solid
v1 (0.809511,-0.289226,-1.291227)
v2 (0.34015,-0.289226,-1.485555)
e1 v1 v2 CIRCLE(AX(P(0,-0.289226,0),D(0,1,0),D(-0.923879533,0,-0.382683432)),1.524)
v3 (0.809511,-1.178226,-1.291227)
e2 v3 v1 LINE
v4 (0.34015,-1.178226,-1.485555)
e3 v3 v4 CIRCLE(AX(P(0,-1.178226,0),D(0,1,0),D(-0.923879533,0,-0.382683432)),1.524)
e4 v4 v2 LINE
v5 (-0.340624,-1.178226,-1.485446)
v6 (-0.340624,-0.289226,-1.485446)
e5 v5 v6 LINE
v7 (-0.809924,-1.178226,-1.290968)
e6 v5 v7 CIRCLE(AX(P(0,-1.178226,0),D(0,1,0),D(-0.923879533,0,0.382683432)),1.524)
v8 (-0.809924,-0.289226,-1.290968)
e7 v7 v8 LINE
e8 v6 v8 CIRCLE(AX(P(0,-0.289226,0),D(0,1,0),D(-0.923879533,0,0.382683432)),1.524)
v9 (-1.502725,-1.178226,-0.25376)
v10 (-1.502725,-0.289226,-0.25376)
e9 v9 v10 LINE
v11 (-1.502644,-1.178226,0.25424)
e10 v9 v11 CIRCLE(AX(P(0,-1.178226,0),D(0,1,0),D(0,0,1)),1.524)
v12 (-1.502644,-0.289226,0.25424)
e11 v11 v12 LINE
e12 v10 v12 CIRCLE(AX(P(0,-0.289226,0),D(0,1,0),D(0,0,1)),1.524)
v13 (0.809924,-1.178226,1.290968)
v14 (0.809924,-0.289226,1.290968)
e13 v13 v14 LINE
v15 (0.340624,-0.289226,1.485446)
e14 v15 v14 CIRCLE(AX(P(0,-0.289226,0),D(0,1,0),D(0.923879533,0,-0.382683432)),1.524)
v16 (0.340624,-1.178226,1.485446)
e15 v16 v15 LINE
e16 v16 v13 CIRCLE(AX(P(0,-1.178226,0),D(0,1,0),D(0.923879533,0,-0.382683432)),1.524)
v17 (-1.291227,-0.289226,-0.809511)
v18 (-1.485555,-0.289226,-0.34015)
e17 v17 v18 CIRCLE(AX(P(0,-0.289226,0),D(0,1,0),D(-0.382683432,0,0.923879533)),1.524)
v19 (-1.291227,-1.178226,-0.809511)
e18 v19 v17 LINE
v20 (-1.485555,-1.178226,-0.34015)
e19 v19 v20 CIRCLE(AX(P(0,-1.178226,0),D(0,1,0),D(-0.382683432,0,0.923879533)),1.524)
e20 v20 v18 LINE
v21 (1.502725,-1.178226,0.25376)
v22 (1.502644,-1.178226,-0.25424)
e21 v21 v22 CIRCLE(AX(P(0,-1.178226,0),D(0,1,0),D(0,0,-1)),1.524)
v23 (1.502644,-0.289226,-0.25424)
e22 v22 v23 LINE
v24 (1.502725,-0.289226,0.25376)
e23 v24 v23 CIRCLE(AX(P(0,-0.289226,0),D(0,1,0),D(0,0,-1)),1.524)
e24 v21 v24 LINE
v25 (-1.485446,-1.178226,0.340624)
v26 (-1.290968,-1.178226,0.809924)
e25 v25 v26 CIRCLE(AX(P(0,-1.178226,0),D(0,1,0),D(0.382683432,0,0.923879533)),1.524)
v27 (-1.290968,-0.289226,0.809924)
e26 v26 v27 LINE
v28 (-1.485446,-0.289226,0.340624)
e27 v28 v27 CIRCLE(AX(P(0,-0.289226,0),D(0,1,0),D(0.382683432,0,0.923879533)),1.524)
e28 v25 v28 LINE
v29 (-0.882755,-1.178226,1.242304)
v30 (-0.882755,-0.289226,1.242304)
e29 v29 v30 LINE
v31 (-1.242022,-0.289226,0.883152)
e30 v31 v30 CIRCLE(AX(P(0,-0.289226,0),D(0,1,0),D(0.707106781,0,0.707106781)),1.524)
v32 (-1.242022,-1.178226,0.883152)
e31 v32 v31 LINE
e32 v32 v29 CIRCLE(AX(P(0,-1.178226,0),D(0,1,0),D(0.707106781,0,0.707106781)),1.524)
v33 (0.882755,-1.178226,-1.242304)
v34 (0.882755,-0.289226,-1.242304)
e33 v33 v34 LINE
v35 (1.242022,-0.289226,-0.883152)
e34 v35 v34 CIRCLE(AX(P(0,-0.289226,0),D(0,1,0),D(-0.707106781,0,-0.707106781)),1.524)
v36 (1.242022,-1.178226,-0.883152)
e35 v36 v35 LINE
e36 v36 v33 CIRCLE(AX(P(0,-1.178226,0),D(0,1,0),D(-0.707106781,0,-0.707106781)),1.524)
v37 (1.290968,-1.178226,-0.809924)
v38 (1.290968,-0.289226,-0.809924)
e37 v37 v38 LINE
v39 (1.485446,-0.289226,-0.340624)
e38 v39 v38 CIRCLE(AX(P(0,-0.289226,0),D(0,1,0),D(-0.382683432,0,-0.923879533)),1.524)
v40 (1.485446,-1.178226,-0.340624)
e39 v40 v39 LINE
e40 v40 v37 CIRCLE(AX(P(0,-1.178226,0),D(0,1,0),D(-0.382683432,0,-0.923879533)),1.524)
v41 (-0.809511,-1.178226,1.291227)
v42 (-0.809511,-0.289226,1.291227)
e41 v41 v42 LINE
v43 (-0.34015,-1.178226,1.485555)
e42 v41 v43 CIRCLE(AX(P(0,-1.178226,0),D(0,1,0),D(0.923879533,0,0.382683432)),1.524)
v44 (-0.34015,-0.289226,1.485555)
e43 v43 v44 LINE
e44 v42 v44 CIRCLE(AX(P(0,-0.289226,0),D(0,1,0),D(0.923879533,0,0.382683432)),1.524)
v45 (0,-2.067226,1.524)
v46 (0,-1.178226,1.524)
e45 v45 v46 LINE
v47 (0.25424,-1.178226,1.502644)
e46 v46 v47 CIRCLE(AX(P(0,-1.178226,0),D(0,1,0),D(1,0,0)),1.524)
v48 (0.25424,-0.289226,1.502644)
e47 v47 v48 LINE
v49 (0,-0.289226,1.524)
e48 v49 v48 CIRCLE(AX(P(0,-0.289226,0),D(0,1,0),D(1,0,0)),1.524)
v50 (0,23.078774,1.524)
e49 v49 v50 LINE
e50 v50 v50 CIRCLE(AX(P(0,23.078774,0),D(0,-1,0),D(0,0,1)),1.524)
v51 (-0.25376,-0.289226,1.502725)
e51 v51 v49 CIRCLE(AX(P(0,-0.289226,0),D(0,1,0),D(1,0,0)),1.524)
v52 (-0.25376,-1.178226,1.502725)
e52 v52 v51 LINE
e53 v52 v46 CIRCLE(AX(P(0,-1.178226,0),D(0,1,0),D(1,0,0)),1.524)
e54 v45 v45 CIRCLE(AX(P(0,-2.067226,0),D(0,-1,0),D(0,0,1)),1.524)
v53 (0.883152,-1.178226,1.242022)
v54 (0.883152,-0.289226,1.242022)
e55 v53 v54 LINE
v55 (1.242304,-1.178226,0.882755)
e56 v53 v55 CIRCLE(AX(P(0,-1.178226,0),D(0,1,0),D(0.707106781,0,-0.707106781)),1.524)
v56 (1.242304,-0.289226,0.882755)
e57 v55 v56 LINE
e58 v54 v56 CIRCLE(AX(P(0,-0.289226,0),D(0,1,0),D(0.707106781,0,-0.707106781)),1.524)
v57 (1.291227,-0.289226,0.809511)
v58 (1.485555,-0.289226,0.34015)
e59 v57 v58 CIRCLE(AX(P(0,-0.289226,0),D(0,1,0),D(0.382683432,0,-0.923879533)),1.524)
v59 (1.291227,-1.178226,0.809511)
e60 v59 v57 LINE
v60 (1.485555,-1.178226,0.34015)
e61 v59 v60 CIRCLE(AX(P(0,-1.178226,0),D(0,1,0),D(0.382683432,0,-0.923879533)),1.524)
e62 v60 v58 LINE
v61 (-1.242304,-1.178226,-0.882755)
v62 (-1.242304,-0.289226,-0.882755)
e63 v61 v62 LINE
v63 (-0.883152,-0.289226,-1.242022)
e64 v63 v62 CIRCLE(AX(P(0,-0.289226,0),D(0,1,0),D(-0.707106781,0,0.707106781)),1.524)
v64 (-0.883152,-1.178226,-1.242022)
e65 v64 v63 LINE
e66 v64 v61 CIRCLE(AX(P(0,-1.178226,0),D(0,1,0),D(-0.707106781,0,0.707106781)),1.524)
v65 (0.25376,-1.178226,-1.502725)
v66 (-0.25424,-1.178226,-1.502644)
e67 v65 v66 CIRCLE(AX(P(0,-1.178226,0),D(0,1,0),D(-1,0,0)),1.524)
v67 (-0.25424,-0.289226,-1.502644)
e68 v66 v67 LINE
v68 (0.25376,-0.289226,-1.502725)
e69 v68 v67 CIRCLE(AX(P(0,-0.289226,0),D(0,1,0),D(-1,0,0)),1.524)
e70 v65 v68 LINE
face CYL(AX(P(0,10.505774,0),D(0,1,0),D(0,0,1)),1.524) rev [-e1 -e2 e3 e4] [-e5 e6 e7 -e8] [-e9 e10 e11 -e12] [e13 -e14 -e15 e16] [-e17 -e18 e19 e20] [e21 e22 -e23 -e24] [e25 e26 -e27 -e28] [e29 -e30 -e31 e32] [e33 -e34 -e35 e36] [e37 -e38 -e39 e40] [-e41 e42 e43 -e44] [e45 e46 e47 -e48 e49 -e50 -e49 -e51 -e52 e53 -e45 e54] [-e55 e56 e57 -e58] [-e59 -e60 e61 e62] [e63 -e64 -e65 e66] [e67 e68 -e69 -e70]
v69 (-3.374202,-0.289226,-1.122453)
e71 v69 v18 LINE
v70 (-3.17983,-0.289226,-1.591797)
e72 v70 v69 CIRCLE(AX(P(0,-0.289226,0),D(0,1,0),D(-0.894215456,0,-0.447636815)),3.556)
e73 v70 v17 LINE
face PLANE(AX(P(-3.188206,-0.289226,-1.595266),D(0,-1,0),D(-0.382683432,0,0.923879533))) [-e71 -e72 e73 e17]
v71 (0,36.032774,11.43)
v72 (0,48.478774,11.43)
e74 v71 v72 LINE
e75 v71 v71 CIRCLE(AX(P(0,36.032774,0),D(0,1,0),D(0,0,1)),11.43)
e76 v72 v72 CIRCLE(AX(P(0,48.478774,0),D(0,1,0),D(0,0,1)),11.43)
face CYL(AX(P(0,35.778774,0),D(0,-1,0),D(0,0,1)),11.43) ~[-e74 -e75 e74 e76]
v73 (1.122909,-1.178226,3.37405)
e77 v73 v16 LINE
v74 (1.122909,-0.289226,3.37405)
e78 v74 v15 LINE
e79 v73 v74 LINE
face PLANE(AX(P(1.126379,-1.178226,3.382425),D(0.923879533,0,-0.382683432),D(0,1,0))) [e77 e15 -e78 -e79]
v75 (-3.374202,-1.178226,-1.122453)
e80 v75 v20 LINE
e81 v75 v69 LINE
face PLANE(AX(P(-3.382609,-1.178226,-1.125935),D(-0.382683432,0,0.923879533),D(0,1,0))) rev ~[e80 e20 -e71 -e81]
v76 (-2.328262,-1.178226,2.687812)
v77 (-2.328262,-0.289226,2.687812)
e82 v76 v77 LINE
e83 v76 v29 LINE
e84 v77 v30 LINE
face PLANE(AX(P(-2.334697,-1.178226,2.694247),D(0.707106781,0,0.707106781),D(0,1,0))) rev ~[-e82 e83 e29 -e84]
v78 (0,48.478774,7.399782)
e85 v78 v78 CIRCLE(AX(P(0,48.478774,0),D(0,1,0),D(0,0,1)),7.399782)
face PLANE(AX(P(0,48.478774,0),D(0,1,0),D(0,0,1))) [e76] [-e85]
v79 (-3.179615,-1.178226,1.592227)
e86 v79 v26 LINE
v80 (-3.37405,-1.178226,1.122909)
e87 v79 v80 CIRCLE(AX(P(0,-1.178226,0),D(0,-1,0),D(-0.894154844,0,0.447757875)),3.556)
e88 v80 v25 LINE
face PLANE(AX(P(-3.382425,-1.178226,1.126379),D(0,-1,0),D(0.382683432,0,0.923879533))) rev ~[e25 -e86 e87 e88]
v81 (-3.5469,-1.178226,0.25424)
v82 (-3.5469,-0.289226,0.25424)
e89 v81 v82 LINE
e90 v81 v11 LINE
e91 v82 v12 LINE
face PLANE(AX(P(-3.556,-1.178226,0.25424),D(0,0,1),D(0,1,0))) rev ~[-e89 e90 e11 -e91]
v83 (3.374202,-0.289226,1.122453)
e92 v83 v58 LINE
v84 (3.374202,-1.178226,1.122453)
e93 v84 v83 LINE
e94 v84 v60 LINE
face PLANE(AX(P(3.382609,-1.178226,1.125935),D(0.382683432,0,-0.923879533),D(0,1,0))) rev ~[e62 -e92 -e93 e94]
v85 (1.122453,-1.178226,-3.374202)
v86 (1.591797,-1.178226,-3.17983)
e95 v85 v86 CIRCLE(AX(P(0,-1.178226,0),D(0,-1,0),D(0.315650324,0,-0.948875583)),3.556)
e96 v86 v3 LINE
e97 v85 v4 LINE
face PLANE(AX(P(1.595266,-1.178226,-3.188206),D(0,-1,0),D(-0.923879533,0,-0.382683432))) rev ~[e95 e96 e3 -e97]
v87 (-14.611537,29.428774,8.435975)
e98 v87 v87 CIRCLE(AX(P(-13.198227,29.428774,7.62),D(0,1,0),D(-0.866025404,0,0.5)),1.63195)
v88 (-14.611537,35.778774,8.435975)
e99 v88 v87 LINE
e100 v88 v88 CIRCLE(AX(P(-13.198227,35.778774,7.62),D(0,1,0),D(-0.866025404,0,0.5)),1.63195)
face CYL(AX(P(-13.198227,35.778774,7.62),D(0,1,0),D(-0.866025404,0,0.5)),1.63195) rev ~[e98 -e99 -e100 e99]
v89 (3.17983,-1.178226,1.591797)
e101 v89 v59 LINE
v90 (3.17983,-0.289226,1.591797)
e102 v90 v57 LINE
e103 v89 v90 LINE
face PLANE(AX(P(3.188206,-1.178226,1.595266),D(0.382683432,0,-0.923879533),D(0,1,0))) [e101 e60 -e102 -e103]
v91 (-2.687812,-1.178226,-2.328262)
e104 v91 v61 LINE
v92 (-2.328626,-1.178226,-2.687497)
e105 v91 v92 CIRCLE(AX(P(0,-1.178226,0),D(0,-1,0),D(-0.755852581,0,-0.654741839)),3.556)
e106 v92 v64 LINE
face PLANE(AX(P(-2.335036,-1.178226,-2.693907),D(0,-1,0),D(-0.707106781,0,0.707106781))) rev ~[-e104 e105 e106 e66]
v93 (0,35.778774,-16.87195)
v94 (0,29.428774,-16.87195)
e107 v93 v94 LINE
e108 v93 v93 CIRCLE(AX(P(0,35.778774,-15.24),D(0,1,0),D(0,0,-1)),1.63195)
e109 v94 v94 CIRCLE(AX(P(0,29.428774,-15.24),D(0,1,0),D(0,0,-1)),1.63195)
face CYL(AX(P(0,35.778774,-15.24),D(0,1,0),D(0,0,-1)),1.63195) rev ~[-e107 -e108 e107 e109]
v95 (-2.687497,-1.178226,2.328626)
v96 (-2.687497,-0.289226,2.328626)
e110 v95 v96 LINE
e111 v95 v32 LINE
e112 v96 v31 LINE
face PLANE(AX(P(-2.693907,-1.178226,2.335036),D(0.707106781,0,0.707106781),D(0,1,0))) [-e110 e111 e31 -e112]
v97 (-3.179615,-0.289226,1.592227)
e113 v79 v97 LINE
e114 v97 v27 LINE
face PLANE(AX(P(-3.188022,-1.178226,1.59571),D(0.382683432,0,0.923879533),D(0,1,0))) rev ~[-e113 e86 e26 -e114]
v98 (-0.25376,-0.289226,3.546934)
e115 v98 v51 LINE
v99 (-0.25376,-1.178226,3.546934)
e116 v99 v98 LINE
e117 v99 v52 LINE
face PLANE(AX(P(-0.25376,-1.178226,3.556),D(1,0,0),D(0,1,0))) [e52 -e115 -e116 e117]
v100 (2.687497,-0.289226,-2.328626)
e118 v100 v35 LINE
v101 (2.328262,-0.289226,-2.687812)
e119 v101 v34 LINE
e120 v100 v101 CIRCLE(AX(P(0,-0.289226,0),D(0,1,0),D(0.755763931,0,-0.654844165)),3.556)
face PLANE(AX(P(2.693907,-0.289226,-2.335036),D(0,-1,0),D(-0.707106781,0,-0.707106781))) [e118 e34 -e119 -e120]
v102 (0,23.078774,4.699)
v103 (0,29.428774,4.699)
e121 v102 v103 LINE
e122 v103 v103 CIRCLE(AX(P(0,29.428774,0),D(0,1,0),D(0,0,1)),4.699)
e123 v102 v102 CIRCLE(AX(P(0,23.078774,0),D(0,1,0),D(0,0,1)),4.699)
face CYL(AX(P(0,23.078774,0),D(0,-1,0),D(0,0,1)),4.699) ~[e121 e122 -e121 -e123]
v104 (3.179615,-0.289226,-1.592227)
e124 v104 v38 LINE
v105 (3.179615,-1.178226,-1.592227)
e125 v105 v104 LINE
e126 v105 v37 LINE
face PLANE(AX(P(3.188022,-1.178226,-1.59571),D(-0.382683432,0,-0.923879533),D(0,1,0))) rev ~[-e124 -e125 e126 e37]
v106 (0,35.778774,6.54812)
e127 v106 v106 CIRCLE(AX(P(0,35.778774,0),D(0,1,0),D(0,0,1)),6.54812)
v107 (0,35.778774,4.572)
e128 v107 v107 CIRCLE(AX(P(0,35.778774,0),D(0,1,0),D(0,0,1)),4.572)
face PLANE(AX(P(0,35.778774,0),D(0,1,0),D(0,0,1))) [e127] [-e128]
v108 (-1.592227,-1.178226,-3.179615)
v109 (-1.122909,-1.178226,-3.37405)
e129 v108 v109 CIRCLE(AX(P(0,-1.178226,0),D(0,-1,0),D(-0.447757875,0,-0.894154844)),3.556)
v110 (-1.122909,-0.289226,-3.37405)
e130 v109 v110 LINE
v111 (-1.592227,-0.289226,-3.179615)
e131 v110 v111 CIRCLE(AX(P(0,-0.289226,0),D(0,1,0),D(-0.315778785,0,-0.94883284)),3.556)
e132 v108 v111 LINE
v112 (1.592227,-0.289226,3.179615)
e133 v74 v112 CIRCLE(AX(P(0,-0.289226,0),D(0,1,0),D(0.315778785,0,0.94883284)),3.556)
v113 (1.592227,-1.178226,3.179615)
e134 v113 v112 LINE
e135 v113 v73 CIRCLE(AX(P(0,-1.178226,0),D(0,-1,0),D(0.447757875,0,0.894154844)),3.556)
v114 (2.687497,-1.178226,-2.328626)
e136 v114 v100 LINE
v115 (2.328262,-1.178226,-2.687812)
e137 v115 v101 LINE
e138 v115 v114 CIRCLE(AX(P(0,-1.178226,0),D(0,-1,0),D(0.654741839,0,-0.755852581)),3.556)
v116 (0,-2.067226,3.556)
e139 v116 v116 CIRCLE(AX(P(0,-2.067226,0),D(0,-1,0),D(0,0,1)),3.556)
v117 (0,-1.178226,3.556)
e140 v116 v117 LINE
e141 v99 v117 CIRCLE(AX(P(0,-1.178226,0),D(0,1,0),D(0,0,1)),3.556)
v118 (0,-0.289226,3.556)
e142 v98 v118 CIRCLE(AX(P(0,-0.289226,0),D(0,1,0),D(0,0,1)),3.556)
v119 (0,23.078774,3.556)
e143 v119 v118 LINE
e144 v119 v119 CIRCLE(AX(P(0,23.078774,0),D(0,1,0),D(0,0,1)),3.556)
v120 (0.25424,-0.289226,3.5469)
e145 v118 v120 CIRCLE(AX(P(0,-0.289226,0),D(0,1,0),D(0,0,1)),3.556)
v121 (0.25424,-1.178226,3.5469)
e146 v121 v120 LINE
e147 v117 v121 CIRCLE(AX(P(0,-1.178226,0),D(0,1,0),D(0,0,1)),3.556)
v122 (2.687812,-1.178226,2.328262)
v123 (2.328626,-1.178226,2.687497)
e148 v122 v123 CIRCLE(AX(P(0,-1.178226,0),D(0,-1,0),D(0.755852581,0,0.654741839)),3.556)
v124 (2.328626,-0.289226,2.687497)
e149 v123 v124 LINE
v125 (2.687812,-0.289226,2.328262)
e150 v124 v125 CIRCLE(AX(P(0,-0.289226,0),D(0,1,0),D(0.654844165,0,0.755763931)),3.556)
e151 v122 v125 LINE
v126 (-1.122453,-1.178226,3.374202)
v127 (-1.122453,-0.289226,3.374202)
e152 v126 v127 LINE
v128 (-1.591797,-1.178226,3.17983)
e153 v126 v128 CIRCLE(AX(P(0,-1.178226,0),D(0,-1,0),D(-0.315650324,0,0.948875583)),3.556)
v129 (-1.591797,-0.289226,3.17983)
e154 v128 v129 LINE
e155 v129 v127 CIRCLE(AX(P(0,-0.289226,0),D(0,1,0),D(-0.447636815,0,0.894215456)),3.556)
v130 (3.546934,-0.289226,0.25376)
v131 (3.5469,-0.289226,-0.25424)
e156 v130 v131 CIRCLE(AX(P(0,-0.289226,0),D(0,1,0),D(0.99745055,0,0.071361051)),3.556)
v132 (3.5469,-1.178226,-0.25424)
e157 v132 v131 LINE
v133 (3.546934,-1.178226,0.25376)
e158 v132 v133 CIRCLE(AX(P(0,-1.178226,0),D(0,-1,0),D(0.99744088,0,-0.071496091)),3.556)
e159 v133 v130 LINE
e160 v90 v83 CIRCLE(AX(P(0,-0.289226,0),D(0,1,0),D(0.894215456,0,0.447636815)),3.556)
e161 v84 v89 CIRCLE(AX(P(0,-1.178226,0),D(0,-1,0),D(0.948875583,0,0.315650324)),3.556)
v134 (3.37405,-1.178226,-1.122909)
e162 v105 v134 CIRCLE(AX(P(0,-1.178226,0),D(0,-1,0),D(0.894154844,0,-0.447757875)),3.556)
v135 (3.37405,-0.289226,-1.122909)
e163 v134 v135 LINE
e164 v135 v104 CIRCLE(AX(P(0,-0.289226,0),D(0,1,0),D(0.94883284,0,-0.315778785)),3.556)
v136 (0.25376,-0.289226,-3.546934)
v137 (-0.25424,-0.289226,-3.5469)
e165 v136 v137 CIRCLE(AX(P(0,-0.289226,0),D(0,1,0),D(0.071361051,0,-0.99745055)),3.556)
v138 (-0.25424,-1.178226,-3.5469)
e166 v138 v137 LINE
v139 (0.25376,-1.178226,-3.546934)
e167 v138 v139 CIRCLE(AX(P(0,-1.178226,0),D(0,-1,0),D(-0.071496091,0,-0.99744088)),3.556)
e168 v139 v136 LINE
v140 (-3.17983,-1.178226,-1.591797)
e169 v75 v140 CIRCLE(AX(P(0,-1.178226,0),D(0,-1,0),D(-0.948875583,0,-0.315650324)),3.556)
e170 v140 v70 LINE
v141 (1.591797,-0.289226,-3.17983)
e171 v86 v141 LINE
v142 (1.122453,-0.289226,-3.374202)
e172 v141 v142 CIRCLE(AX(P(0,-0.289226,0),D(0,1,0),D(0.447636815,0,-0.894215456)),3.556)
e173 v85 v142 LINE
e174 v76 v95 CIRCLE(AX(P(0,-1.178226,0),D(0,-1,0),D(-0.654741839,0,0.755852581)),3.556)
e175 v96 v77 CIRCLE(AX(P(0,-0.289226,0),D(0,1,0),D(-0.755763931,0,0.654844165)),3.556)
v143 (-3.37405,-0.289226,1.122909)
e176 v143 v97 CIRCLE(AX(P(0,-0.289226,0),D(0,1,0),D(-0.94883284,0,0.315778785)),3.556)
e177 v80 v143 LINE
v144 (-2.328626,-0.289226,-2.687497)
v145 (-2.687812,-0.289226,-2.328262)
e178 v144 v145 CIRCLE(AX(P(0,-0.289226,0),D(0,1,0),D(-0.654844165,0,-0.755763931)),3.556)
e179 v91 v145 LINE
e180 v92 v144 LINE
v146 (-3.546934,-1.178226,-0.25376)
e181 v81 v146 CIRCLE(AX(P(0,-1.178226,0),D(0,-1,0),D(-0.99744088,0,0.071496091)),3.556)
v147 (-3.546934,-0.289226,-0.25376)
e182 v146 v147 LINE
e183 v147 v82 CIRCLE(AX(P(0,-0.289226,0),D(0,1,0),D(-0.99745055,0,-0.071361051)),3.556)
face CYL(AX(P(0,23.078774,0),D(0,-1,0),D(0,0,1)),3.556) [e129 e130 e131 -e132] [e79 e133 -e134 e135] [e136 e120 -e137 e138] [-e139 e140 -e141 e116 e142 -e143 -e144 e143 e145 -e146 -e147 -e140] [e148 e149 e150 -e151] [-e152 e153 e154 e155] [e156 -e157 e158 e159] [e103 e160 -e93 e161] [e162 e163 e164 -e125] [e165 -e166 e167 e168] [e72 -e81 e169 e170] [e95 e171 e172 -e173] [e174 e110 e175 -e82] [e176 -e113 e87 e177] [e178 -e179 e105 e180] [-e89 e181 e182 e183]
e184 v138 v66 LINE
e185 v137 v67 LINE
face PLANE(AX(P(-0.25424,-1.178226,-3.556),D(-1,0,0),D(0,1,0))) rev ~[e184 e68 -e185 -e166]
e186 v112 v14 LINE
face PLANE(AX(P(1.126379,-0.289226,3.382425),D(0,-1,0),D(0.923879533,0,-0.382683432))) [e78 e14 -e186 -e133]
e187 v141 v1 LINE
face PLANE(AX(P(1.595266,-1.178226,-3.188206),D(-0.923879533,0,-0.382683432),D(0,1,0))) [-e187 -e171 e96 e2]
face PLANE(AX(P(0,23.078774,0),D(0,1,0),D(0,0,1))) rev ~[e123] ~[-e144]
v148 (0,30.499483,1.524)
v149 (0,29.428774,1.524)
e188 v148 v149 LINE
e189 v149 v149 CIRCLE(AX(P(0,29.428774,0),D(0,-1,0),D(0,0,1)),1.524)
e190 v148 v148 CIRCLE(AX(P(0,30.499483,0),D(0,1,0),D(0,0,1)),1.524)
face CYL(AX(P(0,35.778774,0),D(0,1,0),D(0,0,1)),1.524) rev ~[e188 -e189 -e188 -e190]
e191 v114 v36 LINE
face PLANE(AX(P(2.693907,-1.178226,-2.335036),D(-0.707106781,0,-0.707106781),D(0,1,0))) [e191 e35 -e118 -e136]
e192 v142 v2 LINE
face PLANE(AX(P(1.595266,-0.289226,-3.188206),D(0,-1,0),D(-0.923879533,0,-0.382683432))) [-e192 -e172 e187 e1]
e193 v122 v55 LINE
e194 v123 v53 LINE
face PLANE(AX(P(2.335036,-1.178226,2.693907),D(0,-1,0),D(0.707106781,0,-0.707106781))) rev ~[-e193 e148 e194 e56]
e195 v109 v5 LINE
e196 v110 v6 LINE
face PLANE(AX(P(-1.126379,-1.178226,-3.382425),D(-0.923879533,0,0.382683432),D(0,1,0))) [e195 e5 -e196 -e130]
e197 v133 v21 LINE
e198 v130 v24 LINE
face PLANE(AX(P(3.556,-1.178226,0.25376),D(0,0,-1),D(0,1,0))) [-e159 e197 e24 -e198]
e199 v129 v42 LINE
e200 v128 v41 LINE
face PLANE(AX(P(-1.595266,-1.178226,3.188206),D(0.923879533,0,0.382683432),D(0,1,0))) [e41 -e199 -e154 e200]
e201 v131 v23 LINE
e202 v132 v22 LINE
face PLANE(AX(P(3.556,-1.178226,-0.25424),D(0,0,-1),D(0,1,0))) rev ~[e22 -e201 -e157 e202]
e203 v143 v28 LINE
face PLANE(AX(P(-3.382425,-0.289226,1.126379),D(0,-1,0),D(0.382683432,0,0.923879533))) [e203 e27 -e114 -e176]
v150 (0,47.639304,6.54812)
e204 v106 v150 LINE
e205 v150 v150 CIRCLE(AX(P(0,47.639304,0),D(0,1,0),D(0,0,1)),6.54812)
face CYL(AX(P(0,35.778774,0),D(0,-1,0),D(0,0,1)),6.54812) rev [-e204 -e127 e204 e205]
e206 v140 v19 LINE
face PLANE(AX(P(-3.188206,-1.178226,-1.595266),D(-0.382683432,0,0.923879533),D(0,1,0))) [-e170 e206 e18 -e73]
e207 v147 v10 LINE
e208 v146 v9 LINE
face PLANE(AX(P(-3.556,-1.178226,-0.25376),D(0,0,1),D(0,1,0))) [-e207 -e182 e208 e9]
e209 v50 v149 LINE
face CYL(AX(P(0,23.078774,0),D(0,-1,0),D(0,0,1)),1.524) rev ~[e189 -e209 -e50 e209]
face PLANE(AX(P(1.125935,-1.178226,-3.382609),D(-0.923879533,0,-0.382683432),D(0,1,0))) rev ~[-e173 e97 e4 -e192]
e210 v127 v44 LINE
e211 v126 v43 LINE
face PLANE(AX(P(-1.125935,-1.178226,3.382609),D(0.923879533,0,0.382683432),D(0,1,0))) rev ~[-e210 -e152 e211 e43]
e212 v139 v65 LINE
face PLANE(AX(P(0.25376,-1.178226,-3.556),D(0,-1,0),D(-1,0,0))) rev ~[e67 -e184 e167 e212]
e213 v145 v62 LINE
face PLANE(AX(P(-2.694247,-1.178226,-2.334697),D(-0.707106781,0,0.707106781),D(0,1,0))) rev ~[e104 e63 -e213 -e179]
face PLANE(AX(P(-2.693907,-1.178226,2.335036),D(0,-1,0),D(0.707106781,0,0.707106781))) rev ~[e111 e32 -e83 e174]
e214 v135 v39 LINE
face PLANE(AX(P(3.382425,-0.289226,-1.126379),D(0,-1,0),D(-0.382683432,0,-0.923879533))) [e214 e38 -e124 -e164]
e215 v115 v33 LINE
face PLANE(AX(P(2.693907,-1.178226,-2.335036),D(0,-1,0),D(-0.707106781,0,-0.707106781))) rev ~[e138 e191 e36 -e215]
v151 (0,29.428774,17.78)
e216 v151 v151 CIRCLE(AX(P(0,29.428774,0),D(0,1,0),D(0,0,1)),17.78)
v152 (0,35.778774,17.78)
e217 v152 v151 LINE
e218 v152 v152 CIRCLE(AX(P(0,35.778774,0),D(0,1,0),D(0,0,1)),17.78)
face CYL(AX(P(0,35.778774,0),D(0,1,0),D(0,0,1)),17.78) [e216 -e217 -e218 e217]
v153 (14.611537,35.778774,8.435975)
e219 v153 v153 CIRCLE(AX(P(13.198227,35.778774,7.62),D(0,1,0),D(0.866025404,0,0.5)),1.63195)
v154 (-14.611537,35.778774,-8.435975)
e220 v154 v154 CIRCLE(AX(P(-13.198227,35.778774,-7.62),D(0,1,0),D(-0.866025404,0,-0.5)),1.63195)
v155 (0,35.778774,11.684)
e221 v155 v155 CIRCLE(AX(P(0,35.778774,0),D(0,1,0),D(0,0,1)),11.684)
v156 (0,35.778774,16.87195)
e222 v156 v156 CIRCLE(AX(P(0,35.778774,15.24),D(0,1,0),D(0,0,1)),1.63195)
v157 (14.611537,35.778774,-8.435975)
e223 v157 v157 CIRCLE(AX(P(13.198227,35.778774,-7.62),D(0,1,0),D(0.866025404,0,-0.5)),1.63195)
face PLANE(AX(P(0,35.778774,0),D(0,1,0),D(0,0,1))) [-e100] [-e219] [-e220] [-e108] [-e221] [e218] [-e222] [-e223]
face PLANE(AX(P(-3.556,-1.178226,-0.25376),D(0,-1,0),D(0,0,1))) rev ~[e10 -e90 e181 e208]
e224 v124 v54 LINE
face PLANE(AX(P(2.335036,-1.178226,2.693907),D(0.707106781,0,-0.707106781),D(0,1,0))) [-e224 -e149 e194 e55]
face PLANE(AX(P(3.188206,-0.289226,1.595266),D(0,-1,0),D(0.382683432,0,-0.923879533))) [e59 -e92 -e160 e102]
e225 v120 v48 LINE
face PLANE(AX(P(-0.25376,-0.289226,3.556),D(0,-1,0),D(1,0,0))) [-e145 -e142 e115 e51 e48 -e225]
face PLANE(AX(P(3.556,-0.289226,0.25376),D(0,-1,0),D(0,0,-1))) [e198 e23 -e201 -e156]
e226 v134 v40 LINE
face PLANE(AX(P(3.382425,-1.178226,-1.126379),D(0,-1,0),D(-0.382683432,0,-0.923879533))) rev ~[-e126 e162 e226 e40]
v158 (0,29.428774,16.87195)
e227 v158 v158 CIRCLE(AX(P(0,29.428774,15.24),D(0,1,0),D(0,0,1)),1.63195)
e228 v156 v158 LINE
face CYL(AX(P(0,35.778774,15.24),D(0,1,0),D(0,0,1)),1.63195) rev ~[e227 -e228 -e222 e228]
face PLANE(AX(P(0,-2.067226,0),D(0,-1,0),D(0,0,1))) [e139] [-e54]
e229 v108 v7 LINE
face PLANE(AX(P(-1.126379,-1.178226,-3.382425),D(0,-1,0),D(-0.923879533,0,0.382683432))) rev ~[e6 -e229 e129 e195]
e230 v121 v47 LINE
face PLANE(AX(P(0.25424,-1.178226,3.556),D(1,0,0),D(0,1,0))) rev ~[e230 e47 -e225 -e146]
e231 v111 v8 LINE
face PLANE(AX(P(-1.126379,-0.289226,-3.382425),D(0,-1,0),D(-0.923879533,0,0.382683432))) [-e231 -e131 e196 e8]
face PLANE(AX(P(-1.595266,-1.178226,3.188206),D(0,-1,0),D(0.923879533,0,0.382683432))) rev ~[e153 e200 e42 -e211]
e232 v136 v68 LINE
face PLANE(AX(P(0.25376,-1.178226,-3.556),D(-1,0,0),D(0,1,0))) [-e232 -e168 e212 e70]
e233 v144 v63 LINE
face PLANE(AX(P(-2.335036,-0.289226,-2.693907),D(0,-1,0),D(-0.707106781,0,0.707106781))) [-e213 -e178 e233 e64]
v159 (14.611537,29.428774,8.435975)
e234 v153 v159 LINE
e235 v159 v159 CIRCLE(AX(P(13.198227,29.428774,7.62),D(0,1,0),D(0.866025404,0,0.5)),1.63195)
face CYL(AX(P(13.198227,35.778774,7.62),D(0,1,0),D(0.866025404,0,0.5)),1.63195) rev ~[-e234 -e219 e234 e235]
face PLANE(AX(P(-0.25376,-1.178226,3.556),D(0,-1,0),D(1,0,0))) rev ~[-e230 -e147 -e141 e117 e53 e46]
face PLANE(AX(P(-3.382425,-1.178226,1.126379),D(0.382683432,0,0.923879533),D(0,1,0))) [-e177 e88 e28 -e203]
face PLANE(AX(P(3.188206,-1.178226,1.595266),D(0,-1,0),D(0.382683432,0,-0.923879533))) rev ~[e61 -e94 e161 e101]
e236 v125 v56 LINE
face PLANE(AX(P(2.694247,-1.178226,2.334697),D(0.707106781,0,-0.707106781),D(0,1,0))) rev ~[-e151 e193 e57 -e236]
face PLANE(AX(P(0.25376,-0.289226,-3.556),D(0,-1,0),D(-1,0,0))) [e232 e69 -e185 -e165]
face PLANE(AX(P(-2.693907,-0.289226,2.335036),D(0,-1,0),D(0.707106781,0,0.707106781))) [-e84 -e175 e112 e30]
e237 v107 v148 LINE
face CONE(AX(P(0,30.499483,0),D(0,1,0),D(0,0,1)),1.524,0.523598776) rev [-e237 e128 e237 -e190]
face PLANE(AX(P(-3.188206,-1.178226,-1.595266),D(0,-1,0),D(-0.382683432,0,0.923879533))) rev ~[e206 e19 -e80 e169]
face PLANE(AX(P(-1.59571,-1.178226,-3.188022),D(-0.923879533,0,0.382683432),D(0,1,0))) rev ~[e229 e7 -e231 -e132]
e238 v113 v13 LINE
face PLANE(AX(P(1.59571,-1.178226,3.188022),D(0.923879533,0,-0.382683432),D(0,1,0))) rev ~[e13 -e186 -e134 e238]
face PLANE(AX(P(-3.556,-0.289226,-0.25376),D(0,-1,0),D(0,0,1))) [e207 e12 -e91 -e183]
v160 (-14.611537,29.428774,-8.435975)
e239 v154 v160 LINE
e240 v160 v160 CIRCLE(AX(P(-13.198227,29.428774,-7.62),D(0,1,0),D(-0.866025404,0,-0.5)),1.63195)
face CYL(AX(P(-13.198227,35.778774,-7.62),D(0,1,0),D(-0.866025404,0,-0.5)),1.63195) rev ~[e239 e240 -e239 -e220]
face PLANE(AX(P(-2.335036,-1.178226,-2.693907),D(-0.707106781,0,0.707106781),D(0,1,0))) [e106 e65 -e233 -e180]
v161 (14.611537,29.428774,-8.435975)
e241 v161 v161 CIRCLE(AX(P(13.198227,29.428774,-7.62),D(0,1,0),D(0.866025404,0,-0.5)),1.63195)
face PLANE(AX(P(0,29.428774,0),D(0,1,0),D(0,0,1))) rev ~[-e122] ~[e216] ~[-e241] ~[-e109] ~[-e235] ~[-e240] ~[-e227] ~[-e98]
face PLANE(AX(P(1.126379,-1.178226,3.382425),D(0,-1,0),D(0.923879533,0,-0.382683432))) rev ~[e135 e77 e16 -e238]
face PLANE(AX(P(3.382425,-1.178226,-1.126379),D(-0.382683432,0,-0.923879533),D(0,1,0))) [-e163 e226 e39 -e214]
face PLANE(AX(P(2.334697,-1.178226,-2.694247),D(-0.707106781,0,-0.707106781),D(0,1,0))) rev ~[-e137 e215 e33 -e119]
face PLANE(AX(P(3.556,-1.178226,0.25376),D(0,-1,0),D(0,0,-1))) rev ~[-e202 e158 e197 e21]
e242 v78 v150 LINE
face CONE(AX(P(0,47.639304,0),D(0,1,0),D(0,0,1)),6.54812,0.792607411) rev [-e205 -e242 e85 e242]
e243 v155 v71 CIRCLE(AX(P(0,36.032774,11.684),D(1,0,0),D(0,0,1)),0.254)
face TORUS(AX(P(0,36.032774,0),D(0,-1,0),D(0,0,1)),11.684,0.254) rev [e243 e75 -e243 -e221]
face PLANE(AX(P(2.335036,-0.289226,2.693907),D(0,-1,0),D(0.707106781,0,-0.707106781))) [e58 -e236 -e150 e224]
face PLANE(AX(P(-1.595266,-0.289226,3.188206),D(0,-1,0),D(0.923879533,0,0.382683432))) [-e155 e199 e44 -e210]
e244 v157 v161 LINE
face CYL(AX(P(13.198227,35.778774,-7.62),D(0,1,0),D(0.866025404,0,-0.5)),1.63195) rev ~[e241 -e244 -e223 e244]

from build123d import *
from build123d.topology import SkipClean

# Parameters (mm, degrees)
SKETCH1_W               = 2.032
SKETCH1_H               = 25.146
CUT_EXTRUDE1_REACH      = 26.41
CUT_EXTRUDE1_END_RADIUS = 1.524
SKETCH2_W               = 0.508
SKETCH2_H               = 0.889
CIRPATTERN1_COUNT       = 16
SKETCH3_R               = 3.556
SKETCH3_R_2             = 1.524
BOSS_EXTRUDE1_DEPTH     = 6.35
BOSS_EXTRUDE2_START     = 6.35
SKETCH4_R               = 17.78
SKETCH4_R_2             = 1.524
BOSS_EXTRUDE2_DEPTH     = 6.35
CUT_EXTRUDE2_REACH      = 47.438
SKETCH11_R              = 1.63195
CIRPATTERN2_COUNT       = 6
CHAMFER1_SIZE           = 3.048
CHAMFER1_SIZE2          = 5.279290861
SKETCH13_R              = 11.43
SKETCH13_R_2            = 6.54812
BOSS_EXTRUDE4_DEPTH     = 12.7
FILLET4_R               = 0.254
CHAMFER2_SIZE           = 0.851662
CHAMFER2_SIZE2          = 0.83947
BOSS_EXTRUDE5_START     = -6.35
SKETCH15_R              = 4.699
SKETCH15_R_2            = 3.556
BOSS_EXTRUDE5_DEPTH     = 6.35


with BuildPart() as part:
    # Sketch1 → Revolve2 (revolve)
    with BuildSketch(Plane.XY):
        with Locations((-2.54, 10.505774136)):
            Rectangle(SKETCH1_W, SKETCH1_H)
    revolve(axis=Axis((0, 8.215698649, 0), (0, -1, 0)))

    # Cut-Extrude1: up to this cylinder (the profile starts outside it)
    cut_extrude1_end = Plane(origin=(0, -0.733726, 0), z_dir=(0, 1, 0)) * Cylinder(CUT_EXTRUDE1_END_RADIUS, 56.868, mode=Mode.PRIVATE)
    # Sketch2 → Cut-Extrude1 (cut, up to the surface)
    with BuildSketch(Plane.ZY.offset(3.556), mode=Mode.PRIVATE) as cut_extrude1_sk1:
        with Locations((0.000240101, -0.733725864)):
            Rectangle(SKETCH2_W, SKETCH2_H)
    cut_extrude1_tool1 = extrude(cut_extrude1_sk1.sketch, amount=-CUT_EXTRUDE1_REACH, mode=Mode.PRIVATE) - cut_extrude1_end
    cut_extrude1 = cut_extrude1_tool1.solids().sort_by_distance((-3.556, -0.733726, 0.00024))[0]
    add(cut_extrude1, mode=Mode.SUBTRACT)

    # CirPattern1: Cut-Extrude1 ×16 about axis
    cirpattern1_axis = Axis((0, -2.067225864, 0), (0, 1, 0))
    for i in range(1, CIRPATTERN1_COUNT):
        add(cut_extrude1.rotate(cirpattern1_axis, i * 360 / CIRPATTERN1_COUNT), mode=Mode.SUBTRACT)

    # Sketch3 → Boss-Extrude1 (add)
    with BuildSketch(Plane(origin=(0, 23.078774136, 0), x_dir=(-1, 0, 0), z_dir=(0, -1, 0))):
        Circle(SKETCH3_R)
        Circle(SKETCH3_R_2, mode=Mode.SUBTRACT)
    extrude(amount=-BOSS_EXTRUDE1_DEPTH)

    # Sketch4 → Boss-Extrude2 (add)
    with SkipClean():  # the faces are left unmerged after this step: merging them gives an invalid solid
        with BuildSketch(Plane(origin=(0, 29.428774136, 0), x_dir=(1, 0, 0), z_dir=(0, 1, 0)).offset(BOSS_EXTRUDE2_START)):
            Circle(SKETCH4_R)
            Circle(SKETCH4_R_2, mode=Mode.SUBTRACT)
        extrude(amount=-BOSS_EXTRUDE2_DEPTH)

    # Sketch11 → Cut-Extrude2 (cut, up to next)
    with BuildSketch(Plane(origin=(0, 35.778774136, 0), x_dir=(1, 0, 0), z_dir=(0, 1, 0)), mode=Mode.PRIVATE) as cut_extrude2_sk1:
        with Locations((0, -15.24)):
            Circle(SKETCH11_R)
    cut_extrude2_tool1 = extrude(cut_extrude2_sk1.sketch, amount=-CUT_EXTRUDE2_REACH, mode=Mode.PRIVATE) & part.part
    cut_extrude2 = cut_extrude2_tool1.solids().sort_by_distance((0, 35.778774, 15.24))[0]
    add(cut_extrude2, mode=Mode.SUBTRACT)

    # CirPattern2: Cut-Extrude2 ×6 about axis
    with SkipClean():  # the faces are left unmerged after this step: merging them gives an invalid solid
        cirpattern2_axis = Axis((0, -2.067225864, 0), (0, 1, 0))
        for i in range(1, CIRPATTERN2_COUNT):
            add(cut_extrude2.rotate(cirpattern2_axis, i * 360 / CIRPATTERN2_COUNT), mode=Mode.SUBTRACT)

    # Chamfer1
    chamfer1_edges = [part.edges().sort_by_distance(p)[0] for p in [
        (-1.524, 35.778774136, 0),
    ]]
    chamfer1_side = [part.faces().sort_by_distance(p)[0] for p in [
        (-17.277105657, 35.778774136, 0),
    ]]
    chamfer(chamfer1_edges, length=CHAMFER1_SIZE, length2=CHAMFER1_SIZE2, reference=chamfer1_side[0])

    # Sketch13 → Boss-Extrude4 (add)
    with SkipClean():  # the faces are left unmerged after this step: merging them gives an invalid solid
        with BuildSketch(Plane(origin=(0, 35.778774136, 0), x_dir=(1, 0, 0), z_dir=(0, 1, 0))):
            Circle(SKETCH13_R)
            Circle(SKETCH13_R_2, mode=Mode.SUBTRACT)
        extrude(amount=BOSS_EXTRUDE4_DEPTH)

    # Fillet4
    fillet4_edges = [part.edges().sort_by_distance(p)[0] for p in [
        (-11.43, 35.778774136, 0),
    ]]
    fillet(fillet4_edges, radius=FILLET4_R)

    # Chamfer2
    chamfer2_edges = [part.edges().sort_by_distance(p)[0] for p in [
        (-6.54812, 48.478774136, 0),
    ]]
    chamfer2_side = [part.faces().sort_by_distance(p)[0] for p in [
        (-11.10671078, 48.478774136, 0),
    ]]
    chamfer(chamfer2_edges, length=CHAMFER2_SIZE, length2=CHAMFER2_SIZE2, reference=chamfer2_side[0])

    # Sketch15 → Boss-Extrude5 (add)
    with SkipClean():  # the faces are left unmerged after this step: merging them gives an invalid solid
        with BuildSketch(Plane(origin=(0, 29.428774136, 0), x_dir=(1, 0, 0), z_dir=(0, 1, 0)).offset(BOSS_EXTRUDE5_START)):
            Circle(SKETCH15_R)
            Circle(SKETCH15_R_2, mode=Mode.SUBTRACT)
        extrude(amount=BOSS_EXTRUDE5_DEPTH)


solid = part.part
